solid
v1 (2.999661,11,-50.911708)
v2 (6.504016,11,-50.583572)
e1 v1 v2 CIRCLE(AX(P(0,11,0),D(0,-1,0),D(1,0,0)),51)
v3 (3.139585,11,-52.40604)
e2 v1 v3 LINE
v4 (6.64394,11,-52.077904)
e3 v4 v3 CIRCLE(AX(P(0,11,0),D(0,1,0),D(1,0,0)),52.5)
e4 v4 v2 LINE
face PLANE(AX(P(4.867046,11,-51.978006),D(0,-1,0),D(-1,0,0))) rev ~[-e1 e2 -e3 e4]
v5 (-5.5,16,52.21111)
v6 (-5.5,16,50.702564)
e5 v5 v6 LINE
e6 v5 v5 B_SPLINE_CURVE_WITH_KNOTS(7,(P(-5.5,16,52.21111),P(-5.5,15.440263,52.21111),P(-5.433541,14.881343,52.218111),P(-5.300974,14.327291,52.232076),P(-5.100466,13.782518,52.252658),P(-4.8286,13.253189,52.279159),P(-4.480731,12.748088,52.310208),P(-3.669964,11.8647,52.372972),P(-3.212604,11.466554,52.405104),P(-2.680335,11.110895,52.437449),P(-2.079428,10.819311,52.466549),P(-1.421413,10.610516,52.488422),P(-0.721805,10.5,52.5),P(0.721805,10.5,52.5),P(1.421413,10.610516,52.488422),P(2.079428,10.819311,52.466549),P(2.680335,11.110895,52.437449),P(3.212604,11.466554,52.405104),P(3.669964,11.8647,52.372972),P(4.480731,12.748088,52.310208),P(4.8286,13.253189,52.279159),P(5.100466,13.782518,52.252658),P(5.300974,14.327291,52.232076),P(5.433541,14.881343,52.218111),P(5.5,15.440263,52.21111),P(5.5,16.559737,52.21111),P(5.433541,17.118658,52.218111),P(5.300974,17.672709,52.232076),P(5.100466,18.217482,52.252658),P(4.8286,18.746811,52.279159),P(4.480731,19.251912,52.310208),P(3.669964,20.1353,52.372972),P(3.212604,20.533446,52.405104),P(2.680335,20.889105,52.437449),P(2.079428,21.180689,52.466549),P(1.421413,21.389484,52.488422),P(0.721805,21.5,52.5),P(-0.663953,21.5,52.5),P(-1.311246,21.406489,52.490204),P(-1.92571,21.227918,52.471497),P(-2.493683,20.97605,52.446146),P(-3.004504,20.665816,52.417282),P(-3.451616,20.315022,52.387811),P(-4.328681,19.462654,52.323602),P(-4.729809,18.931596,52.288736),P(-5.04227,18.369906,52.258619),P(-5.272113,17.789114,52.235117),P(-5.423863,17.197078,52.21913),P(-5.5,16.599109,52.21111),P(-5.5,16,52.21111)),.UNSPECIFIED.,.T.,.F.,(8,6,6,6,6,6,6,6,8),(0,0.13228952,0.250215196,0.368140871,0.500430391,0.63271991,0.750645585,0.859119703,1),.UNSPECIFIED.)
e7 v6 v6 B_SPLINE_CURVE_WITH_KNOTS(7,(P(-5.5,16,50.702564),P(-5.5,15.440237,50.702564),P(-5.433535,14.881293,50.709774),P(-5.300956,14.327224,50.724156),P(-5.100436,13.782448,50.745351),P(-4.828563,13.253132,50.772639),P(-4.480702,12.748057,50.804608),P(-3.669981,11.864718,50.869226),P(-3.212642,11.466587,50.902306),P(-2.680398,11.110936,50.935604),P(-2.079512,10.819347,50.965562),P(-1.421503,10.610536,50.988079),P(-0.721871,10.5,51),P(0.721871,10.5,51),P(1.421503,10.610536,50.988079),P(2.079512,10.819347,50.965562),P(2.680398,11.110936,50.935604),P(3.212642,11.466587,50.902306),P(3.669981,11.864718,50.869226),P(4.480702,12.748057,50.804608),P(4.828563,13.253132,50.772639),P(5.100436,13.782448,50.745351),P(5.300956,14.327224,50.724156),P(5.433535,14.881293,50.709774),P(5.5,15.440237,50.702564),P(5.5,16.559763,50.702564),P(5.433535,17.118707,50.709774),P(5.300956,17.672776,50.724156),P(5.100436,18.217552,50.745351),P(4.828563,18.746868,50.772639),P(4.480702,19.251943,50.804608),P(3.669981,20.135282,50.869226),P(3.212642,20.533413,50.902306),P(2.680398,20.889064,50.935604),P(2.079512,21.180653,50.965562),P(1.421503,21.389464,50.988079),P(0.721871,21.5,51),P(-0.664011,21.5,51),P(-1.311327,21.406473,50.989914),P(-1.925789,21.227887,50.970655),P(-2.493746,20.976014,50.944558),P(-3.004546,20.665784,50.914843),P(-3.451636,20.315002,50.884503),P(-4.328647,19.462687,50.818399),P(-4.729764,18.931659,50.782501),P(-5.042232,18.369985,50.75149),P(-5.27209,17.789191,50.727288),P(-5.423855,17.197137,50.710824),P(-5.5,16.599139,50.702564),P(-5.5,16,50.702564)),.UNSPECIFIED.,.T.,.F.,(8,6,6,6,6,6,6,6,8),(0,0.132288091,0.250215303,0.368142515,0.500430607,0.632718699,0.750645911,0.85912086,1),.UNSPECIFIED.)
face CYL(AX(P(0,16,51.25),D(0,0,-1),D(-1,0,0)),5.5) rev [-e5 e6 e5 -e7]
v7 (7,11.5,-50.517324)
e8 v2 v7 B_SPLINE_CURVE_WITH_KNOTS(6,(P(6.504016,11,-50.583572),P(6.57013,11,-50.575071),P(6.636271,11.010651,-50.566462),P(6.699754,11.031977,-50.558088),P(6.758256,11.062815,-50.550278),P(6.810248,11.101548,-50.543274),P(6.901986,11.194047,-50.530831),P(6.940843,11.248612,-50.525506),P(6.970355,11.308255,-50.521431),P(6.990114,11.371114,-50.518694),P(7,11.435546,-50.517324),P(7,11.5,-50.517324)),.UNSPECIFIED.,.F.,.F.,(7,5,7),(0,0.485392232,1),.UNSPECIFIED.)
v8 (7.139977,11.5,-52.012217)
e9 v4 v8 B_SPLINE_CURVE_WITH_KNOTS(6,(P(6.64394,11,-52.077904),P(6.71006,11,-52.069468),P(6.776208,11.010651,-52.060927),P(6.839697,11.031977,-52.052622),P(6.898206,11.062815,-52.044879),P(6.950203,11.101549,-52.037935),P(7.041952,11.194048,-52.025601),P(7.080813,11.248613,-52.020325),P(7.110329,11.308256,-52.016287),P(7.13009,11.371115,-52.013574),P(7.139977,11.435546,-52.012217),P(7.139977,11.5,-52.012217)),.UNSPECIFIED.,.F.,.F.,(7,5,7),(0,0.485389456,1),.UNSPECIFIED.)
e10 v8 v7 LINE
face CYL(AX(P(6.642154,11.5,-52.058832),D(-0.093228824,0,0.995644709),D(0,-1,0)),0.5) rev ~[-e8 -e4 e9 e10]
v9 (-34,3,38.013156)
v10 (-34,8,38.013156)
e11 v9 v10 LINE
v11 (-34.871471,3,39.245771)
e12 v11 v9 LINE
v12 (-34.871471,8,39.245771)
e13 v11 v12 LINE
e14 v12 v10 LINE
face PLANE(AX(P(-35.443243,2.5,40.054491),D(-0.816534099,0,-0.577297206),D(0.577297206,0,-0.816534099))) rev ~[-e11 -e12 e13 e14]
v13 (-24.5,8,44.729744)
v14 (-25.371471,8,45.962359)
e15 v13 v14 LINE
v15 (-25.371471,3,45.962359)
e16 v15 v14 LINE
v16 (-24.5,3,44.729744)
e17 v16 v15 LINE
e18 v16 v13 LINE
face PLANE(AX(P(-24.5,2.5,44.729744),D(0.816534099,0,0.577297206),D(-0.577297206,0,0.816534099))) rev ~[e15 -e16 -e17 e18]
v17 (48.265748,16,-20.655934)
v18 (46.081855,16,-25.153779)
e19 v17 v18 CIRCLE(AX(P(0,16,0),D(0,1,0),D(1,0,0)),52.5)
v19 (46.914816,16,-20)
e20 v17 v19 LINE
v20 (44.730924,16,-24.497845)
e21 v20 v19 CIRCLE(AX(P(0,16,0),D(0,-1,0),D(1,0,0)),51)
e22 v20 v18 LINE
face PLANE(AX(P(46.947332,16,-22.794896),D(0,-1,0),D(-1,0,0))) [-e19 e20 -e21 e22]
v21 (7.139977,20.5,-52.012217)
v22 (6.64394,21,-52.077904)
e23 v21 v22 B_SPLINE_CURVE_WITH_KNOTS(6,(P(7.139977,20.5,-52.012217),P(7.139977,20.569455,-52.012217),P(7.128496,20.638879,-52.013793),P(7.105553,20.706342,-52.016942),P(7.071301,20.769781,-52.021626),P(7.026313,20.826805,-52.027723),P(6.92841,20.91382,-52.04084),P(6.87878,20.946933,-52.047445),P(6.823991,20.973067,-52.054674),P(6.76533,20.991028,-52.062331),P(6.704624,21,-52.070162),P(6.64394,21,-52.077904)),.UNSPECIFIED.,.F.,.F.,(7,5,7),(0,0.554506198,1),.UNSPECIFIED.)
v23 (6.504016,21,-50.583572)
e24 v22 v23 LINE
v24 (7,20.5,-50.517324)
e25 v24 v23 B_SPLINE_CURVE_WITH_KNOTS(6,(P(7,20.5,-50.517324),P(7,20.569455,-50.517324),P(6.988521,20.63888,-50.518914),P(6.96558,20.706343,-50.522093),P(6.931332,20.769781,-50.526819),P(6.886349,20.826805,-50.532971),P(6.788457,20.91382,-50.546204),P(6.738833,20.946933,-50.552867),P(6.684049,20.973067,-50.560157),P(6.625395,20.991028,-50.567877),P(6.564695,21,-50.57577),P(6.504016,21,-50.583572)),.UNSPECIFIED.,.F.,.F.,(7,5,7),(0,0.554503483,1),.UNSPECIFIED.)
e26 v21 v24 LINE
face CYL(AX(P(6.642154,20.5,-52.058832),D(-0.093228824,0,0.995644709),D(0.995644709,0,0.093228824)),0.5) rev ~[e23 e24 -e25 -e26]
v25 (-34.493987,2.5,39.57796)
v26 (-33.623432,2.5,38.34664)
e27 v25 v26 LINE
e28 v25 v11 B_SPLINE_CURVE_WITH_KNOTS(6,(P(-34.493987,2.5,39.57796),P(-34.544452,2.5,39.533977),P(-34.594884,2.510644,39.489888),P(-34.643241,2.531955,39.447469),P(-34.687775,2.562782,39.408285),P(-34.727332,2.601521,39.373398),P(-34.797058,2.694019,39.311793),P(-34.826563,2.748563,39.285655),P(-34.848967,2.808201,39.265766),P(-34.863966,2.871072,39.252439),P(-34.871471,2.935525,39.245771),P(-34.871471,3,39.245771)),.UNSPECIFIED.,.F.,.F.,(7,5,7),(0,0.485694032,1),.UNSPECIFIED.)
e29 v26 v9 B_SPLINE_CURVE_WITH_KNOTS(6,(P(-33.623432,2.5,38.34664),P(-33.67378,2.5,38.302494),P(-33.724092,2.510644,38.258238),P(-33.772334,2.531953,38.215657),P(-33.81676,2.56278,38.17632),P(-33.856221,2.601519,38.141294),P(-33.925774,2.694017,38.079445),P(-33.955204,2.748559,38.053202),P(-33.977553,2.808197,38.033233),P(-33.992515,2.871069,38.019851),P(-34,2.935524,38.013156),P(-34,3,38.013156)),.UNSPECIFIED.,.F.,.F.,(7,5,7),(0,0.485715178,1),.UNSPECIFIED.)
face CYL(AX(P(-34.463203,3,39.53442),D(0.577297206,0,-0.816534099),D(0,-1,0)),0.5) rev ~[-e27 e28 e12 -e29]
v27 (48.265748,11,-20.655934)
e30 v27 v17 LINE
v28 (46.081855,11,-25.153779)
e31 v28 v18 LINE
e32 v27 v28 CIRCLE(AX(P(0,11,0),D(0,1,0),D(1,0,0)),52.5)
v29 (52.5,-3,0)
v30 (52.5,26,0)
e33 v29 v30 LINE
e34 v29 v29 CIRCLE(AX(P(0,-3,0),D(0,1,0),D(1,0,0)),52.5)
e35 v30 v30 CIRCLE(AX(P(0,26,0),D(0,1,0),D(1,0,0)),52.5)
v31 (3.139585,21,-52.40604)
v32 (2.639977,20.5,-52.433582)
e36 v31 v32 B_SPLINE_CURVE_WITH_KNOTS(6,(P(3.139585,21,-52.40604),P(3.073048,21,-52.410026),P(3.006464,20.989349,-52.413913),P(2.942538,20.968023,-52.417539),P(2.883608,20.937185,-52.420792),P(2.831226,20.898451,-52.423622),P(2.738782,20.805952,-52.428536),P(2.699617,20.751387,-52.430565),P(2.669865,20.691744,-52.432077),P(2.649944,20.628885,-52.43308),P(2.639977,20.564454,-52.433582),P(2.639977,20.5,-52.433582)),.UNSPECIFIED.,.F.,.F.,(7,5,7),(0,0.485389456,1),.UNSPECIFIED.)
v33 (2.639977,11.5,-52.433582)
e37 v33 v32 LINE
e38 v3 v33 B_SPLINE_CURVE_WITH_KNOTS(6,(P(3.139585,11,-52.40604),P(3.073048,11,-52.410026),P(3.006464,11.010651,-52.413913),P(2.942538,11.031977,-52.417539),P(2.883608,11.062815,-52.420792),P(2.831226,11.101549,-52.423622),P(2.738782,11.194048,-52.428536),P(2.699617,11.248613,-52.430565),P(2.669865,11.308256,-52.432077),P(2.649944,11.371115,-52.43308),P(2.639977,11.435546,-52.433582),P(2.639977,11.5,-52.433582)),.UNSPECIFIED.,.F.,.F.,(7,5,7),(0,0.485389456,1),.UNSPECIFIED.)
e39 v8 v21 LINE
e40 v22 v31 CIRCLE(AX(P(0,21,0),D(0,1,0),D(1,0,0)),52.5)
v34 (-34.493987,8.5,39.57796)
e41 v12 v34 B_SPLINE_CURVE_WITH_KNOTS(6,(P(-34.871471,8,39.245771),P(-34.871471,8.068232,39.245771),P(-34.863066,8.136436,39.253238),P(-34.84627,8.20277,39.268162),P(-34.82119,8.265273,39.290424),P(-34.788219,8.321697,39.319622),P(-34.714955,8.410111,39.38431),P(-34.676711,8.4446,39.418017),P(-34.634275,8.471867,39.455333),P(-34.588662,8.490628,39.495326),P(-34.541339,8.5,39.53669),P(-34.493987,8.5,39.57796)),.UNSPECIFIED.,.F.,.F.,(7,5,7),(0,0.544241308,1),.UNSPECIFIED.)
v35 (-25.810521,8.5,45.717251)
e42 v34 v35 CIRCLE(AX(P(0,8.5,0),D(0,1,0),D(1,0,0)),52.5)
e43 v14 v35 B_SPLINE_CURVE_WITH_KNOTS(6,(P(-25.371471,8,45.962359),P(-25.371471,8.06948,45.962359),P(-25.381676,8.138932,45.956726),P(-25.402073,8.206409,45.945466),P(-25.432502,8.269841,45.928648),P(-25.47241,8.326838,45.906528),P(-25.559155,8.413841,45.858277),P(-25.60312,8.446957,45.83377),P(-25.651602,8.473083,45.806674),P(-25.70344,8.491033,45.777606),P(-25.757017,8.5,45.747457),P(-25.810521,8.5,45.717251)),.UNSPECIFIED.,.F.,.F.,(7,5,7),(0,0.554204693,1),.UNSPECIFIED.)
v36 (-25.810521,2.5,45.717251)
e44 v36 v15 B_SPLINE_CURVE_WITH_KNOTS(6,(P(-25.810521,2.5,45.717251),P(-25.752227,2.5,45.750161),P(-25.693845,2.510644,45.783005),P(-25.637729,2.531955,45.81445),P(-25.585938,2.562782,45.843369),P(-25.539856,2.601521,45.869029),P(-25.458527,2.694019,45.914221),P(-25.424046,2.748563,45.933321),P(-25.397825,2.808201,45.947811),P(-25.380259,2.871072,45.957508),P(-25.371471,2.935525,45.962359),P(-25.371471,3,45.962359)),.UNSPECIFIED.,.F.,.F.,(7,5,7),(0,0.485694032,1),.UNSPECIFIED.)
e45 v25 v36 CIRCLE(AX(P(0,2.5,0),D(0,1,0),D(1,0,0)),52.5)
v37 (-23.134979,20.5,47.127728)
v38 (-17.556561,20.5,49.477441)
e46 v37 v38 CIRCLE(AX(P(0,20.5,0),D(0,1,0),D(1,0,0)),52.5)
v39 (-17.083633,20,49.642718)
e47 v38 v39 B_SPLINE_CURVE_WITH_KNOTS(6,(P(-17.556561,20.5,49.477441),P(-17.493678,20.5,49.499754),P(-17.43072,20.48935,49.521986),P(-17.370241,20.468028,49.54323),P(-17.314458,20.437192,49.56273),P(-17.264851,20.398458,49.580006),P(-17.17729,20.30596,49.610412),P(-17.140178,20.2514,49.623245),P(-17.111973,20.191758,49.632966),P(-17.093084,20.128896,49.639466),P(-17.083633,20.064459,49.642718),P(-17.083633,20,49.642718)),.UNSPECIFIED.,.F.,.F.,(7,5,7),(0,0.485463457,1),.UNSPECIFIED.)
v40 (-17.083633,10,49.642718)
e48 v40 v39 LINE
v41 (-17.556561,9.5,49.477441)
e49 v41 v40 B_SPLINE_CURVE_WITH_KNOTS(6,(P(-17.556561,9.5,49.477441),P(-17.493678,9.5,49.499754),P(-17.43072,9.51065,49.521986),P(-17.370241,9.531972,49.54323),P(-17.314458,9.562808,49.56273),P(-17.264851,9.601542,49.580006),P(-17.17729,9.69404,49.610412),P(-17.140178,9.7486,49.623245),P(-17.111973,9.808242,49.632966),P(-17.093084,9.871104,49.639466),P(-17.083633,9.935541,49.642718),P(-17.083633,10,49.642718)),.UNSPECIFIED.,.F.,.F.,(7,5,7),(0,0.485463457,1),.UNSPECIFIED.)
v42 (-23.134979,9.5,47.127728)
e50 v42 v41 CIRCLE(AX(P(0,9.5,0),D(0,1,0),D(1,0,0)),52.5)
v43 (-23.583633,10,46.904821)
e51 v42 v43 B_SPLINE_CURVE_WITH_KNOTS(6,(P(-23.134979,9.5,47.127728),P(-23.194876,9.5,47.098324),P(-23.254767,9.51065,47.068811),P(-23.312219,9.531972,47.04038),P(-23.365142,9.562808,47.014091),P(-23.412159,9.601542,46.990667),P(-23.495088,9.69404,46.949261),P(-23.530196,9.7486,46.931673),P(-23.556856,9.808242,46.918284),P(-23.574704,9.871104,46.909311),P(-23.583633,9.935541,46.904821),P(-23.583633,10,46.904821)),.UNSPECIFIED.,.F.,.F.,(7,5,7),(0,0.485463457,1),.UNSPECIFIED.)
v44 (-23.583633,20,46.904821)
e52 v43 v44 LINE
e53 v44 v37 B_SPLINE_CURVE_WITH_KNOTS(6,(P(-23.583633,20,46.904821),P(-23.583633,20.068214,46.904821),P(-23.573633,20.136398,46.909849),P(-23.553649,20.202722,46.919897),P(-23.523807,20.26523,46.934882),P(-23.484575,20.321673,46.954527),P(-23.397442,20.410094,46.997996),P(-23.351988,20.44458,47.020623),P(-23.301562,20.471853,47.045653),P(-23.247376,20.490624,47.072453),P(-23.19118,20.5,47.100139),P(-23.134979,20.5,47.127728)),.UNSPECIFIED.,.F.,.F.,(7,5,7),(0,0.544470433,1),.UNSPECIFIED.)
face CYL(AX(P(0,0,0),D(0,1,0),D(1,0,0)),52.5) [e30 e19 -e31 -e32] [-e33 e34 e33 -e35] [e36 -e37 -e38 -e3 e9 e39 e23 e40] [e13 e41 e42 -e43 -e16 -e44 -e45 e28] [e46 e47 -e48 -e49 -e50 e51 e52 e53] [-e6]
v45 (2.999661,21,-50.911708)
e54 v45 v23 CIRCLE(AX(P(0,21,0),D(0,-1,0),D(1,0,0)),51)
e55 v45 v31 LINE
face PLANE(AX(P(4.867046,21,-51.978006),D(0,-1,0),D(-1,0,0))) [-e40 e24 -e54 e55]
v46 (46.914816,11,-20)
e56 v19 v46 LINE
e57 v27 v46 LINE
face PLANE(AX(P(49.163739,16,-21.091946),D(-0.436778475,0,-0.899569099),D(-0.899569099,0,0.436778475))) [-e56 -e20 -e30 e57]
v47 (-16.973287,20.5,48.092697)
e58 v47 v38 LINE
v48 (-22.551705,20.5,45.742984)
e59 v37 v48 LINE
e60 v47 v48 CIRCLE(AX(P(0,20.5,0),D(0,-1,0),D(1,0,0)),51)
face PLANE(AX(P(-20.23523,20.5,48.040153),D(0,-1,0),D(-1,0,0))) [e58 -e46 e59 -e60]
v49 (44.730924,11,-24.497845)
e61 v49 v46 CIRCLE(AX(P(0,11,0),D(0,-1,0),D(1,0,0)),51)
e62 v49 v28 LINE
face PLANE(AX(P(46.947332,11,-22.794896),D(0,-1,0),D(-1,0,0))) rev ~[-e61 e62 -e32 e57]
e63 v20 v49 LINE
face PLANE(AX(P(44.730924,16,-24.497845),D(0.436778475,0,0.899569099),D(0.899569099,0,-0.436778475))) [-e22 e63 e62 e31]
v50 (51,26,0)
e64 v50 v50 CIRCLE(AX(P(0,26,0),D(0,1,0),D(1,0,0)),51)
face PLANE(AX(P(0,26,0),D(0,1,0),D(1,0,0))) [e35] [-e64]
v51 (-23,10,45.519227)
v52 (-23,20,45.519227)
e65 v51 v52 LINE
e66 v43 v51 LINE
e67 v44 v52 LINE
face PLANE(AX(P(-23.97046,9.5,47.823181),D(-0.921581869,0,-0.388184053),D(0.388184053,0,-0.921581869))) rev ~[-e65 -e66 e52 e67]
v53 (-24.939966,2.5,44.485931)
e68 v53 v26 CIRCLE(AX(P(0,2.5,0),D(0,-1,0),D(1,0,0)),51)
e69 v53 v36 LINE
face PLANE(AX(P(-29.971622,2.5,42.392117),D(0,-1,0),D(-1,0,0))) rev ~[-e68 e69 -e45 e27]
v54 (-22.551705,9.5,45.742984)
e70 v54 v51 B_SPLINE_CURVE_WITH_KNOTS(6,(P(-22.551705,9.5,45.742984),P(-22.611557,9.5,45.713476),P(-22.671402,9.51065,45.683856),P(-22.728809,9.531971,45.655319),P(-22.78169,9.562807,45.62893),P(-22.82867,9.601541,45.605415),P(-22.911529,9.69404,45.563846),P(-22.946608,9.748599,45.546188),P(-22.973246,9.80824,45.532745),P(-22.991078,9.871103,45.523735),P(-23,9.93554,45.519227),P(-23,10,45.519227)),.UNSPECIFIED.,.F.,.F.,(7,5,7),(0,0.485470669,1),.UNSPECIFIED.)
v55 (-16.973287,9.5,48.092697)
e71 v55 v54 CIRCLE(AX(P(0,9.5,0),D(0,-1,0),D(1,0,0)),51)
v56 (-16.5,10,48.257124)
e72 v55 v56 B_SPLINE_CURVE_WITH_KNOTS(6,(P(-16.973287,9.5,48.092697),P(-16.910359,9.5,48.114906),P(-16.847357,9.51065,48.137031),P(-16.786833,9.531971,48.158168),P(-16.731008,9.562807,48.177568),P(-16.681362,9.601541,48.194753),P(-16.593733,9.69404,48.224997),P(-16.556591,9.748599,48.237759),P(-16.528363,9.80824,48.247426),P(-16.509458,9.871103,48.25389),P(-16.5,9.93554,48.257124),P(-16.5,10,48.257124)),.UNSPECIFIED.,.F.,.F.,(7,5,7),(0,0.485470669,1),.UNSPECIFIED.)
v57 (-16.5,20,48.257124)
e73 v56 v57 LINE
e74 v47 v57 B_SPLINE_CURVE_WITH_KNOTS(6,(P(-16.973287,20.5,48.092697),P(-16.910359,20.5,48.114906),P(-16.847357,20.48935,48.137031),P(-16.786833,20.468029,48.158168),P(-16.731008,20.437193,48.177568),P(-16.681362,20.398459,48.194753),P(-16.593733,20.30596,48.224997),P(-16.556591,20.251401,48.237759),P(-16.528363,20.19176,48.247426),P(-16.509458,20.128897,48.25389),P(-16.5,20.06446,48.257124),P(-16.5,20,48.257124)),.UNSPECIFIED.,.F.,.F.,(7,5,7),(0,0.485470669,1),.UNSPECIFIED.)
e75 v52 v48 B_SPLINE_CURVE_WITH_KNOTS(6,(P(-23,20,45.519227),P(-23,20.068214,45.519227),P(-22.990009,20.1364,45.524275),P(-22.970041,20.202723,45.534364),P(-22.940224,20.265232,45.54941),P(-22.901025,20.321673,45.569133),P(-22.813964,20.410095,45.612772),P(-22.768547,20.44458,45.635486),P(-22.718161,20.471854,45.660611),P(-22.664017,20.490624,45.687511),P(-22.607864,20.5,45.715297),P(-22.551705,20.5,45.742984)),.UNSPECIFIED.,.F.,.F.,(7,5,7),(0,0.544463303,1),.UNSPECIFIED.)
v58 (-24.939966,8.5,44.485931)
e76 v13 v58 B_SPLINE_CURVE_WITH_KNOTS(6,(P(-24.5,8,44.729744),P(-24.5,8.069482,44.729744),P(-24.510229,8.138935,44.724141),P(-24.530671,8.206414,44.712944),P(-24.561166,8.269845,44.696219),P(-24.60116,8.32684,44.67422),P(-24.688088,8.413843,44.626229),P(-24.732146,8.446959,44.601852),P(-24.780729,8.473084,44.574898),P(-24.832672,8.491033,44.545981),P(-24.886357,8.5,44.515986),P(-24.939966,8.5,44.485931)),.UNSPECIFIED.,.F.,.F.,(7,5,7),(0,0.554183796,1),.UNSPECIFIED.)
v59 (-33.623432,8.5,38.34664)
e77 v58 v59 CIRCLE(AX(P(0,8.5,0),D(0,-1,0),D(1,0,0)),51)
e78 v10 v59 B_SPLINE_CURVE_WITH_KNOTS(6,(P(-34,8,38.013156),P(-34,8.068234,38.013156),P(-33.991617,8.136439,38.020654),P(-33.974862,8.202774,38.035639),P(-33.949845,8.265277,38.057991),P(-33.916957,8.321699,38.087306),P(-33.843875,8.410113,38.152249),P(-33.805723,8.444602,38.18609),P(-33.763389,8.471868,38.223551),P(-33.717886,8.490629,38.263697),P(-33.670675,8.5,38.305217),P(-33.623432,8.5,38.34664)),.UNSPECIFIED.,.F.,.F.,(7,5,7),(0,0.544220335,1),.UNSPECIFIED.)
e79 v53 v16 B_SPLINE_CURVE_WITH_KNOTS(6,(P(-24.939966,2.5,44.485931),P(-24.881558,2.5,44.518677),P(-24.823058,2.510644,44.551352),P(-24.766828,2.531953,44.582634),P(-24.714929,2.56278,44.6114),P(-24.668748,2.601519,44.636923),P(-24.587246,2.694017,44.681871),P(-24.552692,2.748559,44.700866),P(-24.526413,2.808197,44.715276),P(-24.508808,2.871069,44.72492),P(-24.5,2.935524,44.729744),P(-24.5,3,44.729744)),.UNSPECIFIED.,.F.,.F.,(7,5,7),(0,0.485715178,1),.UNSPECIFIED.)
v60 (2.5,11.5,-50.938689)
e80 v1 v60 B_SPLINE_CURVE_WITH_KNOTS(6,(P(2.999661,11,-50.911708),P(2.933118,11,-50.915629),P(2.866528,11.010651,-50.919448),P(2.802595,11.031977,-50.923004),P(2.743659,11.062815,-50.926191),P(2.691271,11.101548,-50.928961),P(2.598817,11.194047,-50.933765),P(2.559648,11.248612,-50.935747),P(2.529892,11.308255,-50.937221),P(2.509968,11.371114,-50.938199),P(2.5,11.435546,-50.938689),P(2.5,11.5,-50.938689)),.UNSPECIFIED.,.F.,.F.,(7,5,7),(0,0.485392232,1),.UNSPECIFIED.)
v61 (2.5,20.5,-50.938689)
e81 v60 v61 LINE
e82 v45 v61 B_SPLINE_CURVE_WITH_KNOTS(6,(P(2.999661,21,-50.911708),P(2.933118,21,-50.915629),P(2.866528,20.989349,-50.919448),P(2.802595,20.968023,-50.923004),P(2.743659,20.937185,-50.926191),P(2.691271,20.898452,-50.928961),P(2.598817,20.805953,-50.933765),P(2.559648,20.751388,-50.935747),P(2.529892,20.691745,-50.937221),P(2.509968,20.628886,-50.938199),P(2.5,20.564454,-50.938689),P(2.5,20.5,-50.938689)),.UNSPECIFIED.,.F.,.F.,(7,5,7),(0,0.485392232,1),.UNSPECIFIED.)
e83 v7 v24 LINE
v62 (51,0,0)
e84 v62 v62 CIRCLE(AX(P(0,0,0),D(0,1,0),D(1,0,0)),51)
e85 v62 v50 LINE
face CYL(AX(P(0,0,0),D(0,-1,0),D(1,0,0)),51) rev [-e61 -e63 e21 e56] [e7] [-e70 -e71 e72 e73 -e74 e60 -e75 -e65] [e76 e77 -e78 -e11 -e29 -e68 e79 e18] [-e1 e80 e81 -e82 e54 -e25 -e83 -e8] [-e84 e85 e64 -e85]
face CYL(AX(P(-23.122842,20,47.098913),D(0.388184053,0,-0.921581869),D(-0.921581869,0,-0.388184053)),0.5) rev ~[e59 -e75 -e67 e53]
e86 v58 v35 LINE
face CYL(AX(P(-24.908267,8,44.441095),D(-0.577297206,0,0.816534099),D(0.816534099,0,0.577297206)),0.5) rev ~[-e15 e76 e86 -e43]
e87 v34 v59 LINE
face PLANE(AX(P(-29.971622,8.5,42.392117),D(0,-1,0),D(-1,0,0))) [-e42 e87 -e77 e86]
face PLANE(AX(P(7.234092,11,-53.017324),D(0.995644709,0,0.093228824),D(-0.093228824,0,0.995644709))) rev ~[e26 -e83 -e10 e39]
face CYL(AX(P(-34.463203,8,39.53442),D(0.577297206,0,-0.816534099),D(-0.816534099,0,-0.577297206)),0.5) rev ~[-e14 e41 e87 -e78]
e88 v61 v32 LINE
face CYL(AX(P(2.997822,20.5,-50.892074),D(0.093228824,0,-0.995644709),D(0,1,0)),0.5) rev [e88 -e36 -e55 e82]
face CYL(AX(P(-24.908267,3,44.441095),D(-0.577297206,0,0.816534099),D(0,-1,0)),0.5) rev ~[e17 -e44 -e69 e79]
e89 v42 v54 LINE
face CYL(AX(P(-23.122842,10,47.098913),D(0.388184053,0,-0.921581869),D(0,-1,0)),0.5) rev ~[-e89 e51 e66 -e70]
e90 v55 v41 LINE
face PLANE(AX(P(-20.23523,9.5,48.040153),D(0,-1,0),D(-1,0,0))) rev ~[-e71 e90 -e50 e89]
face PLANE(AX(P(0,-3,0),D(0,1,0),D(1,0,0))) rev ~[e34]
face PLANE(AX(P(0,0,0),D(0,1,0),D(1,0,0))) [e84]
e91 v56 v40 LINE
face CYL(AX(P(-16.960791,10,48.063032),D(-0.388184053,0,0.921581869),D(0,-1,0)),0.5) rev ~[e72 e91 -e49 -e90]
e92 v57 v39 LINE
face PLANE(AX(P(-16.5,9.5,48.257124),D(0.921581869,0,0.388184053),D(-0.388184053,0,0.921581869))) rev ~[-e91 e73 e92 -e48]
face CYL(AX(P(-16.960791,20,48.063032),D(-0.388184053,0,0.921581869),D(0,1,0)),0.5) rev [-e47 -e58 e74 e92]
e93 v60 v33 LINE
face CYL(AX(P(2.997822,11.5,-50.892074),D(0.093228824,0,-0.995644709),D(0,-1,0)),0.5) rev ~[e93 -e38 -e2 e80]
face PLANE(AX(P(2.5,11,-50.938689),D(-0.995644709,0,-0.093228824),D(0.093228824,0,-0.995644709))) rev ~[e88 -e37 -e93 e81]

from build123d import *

# Parameters (mm, degrees)
P_IDAT_VYSUNUT_M1_DEPTH      = 26
P_IDAT_VYSUNUT_M1_DEPTH_BACK = 3
SKICA1_R                     = 52.5
SKICA1_R_2                   = 51
SKICA1_3_R                   = 51
P_IDAT_VYSUNUT_M3_DEPTH      = 3
ODEBRAT_START                = 2.5
ODEBRAT_VYSUNUT_M1_DEPTH     = 6
ODEBRAT_START_2              = 9.5
ODEBRAT_VYSUNUT_M2_DEPTH     = 11
ZAOBLIT1_R                   = 0.5
ZAOBLIT2_R                   = 0.5
ODEBRAT_START_3              = 11
ODEBRAT_VYSUNUT_M3_DEPTH     = 10
ZAOBLIT3_R                   = 0.5
SKICA6_W                     = 5.5
SKICA6_H                     = 2.5
ODEBRAT_VYSUNUT_M4_DEPTH     = 5


with BuildPart() as part:
    # Skica1 → P_idat vysunut_m1 (new, two sides: drawn at the far end of the back side and taken through both)
    with BuildSketch(Plane(origin=(0, 0, 0), x_dir=(1, 0, 0), z_dir=(0, 1, 0)).offset(-P_IDAT_VYSUNUT_M1_DEPTH_BACK)):
        Circle(SKICA1_R)
        Circle(SKICA1_R_2, mode=Mode.SUBTRACT)
    extrude(amount=P_IDAT_VYSUNUT_M1_DEPTH + P_IDAT_VYSUNUT_M1_DEPTH_BACK)

    # Skica1_3 → P_idat vysunut_m3 (add)
    with BuildSketch(Plane(origin=(0, 0, 0), x_dir=(1, 0, 0), z_dir=(0, 1, 0))):
        Circle(SKICA1_3_R)
    extrude(amount=-P_IDAT_VYSUNUT_M3_DEPTH)

    # Skica3 → Odebrat vysunut_m1 (cut)
    with BuildSketch(Plane(origin=(0, 0, 0), x_dir=(1, 0, 0), z_dir=(0, 1, 0)).offset(ODEBRAT_START)):
        Polygon((-24.5, -44.729744019), (-25.943243016, -46.771079267), (-35.443243016, -40.054490866), (-34, -38.013155617), align=None)
    extrude(amount=ODEBRAT_VYSUNUT_M1_DEPTH, mode=Mode.SUBTRACT)

    # Skica4 → Odebrat vysunut_m2 (cut)
    with BuildSketch(Plane(origin=(0, 0, 0), x_dir=(1, 0, 0), z_dir=(0, 1, 0)).offset(ODEBRAT_START_2)):
        Polygon((-16.5, -48.257123826), (-17.470460132, -50.561078499), (-23.970460132, -47.823181379), (-23, -45.519226707), align=None)
    extrude(amount=ODEBRAT_VYSUNUT_M2_DEPTH, mode=Mode.SUBTRACT)

    # Zaoblit1
    zaoblit1_edges = [part.edges().sort_by_distance(p)[0] for p in [
        (-34.435735274, 8.5, 38.629463311),
        (-24.935735274, 8.5, 45.346051713),
        (-24.935735274, 2.5, 45.346051713),
        (-34.435735274, 2.5, 38.629463311),
    ]]
    fillet(zaoblit1_edges, radius=ZAOBLIT1_R)

    # Zaoblit2
    zaoblit2_edges = [part.edges().sort_by_distance(p)[0] for p in [
        (-16.791816548, 9.5, 48.949921063),
        (-16.791816548, 20.5, 48.949921063),
        (-23.291816548, 20.5, 46.212023944),
        (-23.291816548, 9.5, 46.212023944),
    ]]
    fillet(zaoblit2_edges, radius=ZAOBLIT2_R)

    # Skica5 → Odebrat vysunut_m3 (cut)
    with BuildSketch(Plane(origin=(0, 0, 0), x_dir=(1, 0, 0), z_dir=(0, 1, 0)).offset(ODEBRAT_START_3)):
        Polygon((2.5, 50.938688636), (2.734091597, 53.438688636), (7.234091597, 53.017323761), (7, 50.517323761), align=None)
    extrude(amount=ODEBRAT_VYSUNUT_M3_DEPTH, mode=Mode.SUBTRACT)

    # Zaoblit3
    zaoblit3_edges = [part.edges().sort_by_distance(p)[0] for p in [
        (7.069988396, 21, -51.264770449),
        (2.569988396, 21, -51.686135324),
        (2.569988396, 11, -51.686135324),
        (7.069988396, 11, -51.264770449),
    ]]
    fillet(zaoblit3_edges, radius=ZAOBLIT3_R)

    # Skica6 → Odebrat rotac_1 (revolve, cut)
    with BuildSketch(Plane(origin=(0, 16, 0), x_dir=(1, 0, 0), z_dir=(0, 1, 0))):
        with Locations((-2.75, -51.25)):
            Rectangle(SKICA6_W, SKICA6_H)
    revolve(axis=Axis((0, 16, -58.211377778), (0, 0, 1)), mode=Mode.SUBTRACT)

    # Skica7 → Odebrat vysunut_m4 (cut)
    with BuildSketch(Plane(origin=(0, 16, 0), x_dir=(1, 0, 0), z_dir=(0, 1, 0))):
        Polygon((46.914816423, 20), (44.730924047, 24.497845494), (46.979846795, 25.589791682), (49.16373917, 21.091946188), align=None)
    extrude(amount=-ODEBRAT_VYSUNUT_M4_DEPTH, mode=Mode.SUBTRACT)


solid = part.part
